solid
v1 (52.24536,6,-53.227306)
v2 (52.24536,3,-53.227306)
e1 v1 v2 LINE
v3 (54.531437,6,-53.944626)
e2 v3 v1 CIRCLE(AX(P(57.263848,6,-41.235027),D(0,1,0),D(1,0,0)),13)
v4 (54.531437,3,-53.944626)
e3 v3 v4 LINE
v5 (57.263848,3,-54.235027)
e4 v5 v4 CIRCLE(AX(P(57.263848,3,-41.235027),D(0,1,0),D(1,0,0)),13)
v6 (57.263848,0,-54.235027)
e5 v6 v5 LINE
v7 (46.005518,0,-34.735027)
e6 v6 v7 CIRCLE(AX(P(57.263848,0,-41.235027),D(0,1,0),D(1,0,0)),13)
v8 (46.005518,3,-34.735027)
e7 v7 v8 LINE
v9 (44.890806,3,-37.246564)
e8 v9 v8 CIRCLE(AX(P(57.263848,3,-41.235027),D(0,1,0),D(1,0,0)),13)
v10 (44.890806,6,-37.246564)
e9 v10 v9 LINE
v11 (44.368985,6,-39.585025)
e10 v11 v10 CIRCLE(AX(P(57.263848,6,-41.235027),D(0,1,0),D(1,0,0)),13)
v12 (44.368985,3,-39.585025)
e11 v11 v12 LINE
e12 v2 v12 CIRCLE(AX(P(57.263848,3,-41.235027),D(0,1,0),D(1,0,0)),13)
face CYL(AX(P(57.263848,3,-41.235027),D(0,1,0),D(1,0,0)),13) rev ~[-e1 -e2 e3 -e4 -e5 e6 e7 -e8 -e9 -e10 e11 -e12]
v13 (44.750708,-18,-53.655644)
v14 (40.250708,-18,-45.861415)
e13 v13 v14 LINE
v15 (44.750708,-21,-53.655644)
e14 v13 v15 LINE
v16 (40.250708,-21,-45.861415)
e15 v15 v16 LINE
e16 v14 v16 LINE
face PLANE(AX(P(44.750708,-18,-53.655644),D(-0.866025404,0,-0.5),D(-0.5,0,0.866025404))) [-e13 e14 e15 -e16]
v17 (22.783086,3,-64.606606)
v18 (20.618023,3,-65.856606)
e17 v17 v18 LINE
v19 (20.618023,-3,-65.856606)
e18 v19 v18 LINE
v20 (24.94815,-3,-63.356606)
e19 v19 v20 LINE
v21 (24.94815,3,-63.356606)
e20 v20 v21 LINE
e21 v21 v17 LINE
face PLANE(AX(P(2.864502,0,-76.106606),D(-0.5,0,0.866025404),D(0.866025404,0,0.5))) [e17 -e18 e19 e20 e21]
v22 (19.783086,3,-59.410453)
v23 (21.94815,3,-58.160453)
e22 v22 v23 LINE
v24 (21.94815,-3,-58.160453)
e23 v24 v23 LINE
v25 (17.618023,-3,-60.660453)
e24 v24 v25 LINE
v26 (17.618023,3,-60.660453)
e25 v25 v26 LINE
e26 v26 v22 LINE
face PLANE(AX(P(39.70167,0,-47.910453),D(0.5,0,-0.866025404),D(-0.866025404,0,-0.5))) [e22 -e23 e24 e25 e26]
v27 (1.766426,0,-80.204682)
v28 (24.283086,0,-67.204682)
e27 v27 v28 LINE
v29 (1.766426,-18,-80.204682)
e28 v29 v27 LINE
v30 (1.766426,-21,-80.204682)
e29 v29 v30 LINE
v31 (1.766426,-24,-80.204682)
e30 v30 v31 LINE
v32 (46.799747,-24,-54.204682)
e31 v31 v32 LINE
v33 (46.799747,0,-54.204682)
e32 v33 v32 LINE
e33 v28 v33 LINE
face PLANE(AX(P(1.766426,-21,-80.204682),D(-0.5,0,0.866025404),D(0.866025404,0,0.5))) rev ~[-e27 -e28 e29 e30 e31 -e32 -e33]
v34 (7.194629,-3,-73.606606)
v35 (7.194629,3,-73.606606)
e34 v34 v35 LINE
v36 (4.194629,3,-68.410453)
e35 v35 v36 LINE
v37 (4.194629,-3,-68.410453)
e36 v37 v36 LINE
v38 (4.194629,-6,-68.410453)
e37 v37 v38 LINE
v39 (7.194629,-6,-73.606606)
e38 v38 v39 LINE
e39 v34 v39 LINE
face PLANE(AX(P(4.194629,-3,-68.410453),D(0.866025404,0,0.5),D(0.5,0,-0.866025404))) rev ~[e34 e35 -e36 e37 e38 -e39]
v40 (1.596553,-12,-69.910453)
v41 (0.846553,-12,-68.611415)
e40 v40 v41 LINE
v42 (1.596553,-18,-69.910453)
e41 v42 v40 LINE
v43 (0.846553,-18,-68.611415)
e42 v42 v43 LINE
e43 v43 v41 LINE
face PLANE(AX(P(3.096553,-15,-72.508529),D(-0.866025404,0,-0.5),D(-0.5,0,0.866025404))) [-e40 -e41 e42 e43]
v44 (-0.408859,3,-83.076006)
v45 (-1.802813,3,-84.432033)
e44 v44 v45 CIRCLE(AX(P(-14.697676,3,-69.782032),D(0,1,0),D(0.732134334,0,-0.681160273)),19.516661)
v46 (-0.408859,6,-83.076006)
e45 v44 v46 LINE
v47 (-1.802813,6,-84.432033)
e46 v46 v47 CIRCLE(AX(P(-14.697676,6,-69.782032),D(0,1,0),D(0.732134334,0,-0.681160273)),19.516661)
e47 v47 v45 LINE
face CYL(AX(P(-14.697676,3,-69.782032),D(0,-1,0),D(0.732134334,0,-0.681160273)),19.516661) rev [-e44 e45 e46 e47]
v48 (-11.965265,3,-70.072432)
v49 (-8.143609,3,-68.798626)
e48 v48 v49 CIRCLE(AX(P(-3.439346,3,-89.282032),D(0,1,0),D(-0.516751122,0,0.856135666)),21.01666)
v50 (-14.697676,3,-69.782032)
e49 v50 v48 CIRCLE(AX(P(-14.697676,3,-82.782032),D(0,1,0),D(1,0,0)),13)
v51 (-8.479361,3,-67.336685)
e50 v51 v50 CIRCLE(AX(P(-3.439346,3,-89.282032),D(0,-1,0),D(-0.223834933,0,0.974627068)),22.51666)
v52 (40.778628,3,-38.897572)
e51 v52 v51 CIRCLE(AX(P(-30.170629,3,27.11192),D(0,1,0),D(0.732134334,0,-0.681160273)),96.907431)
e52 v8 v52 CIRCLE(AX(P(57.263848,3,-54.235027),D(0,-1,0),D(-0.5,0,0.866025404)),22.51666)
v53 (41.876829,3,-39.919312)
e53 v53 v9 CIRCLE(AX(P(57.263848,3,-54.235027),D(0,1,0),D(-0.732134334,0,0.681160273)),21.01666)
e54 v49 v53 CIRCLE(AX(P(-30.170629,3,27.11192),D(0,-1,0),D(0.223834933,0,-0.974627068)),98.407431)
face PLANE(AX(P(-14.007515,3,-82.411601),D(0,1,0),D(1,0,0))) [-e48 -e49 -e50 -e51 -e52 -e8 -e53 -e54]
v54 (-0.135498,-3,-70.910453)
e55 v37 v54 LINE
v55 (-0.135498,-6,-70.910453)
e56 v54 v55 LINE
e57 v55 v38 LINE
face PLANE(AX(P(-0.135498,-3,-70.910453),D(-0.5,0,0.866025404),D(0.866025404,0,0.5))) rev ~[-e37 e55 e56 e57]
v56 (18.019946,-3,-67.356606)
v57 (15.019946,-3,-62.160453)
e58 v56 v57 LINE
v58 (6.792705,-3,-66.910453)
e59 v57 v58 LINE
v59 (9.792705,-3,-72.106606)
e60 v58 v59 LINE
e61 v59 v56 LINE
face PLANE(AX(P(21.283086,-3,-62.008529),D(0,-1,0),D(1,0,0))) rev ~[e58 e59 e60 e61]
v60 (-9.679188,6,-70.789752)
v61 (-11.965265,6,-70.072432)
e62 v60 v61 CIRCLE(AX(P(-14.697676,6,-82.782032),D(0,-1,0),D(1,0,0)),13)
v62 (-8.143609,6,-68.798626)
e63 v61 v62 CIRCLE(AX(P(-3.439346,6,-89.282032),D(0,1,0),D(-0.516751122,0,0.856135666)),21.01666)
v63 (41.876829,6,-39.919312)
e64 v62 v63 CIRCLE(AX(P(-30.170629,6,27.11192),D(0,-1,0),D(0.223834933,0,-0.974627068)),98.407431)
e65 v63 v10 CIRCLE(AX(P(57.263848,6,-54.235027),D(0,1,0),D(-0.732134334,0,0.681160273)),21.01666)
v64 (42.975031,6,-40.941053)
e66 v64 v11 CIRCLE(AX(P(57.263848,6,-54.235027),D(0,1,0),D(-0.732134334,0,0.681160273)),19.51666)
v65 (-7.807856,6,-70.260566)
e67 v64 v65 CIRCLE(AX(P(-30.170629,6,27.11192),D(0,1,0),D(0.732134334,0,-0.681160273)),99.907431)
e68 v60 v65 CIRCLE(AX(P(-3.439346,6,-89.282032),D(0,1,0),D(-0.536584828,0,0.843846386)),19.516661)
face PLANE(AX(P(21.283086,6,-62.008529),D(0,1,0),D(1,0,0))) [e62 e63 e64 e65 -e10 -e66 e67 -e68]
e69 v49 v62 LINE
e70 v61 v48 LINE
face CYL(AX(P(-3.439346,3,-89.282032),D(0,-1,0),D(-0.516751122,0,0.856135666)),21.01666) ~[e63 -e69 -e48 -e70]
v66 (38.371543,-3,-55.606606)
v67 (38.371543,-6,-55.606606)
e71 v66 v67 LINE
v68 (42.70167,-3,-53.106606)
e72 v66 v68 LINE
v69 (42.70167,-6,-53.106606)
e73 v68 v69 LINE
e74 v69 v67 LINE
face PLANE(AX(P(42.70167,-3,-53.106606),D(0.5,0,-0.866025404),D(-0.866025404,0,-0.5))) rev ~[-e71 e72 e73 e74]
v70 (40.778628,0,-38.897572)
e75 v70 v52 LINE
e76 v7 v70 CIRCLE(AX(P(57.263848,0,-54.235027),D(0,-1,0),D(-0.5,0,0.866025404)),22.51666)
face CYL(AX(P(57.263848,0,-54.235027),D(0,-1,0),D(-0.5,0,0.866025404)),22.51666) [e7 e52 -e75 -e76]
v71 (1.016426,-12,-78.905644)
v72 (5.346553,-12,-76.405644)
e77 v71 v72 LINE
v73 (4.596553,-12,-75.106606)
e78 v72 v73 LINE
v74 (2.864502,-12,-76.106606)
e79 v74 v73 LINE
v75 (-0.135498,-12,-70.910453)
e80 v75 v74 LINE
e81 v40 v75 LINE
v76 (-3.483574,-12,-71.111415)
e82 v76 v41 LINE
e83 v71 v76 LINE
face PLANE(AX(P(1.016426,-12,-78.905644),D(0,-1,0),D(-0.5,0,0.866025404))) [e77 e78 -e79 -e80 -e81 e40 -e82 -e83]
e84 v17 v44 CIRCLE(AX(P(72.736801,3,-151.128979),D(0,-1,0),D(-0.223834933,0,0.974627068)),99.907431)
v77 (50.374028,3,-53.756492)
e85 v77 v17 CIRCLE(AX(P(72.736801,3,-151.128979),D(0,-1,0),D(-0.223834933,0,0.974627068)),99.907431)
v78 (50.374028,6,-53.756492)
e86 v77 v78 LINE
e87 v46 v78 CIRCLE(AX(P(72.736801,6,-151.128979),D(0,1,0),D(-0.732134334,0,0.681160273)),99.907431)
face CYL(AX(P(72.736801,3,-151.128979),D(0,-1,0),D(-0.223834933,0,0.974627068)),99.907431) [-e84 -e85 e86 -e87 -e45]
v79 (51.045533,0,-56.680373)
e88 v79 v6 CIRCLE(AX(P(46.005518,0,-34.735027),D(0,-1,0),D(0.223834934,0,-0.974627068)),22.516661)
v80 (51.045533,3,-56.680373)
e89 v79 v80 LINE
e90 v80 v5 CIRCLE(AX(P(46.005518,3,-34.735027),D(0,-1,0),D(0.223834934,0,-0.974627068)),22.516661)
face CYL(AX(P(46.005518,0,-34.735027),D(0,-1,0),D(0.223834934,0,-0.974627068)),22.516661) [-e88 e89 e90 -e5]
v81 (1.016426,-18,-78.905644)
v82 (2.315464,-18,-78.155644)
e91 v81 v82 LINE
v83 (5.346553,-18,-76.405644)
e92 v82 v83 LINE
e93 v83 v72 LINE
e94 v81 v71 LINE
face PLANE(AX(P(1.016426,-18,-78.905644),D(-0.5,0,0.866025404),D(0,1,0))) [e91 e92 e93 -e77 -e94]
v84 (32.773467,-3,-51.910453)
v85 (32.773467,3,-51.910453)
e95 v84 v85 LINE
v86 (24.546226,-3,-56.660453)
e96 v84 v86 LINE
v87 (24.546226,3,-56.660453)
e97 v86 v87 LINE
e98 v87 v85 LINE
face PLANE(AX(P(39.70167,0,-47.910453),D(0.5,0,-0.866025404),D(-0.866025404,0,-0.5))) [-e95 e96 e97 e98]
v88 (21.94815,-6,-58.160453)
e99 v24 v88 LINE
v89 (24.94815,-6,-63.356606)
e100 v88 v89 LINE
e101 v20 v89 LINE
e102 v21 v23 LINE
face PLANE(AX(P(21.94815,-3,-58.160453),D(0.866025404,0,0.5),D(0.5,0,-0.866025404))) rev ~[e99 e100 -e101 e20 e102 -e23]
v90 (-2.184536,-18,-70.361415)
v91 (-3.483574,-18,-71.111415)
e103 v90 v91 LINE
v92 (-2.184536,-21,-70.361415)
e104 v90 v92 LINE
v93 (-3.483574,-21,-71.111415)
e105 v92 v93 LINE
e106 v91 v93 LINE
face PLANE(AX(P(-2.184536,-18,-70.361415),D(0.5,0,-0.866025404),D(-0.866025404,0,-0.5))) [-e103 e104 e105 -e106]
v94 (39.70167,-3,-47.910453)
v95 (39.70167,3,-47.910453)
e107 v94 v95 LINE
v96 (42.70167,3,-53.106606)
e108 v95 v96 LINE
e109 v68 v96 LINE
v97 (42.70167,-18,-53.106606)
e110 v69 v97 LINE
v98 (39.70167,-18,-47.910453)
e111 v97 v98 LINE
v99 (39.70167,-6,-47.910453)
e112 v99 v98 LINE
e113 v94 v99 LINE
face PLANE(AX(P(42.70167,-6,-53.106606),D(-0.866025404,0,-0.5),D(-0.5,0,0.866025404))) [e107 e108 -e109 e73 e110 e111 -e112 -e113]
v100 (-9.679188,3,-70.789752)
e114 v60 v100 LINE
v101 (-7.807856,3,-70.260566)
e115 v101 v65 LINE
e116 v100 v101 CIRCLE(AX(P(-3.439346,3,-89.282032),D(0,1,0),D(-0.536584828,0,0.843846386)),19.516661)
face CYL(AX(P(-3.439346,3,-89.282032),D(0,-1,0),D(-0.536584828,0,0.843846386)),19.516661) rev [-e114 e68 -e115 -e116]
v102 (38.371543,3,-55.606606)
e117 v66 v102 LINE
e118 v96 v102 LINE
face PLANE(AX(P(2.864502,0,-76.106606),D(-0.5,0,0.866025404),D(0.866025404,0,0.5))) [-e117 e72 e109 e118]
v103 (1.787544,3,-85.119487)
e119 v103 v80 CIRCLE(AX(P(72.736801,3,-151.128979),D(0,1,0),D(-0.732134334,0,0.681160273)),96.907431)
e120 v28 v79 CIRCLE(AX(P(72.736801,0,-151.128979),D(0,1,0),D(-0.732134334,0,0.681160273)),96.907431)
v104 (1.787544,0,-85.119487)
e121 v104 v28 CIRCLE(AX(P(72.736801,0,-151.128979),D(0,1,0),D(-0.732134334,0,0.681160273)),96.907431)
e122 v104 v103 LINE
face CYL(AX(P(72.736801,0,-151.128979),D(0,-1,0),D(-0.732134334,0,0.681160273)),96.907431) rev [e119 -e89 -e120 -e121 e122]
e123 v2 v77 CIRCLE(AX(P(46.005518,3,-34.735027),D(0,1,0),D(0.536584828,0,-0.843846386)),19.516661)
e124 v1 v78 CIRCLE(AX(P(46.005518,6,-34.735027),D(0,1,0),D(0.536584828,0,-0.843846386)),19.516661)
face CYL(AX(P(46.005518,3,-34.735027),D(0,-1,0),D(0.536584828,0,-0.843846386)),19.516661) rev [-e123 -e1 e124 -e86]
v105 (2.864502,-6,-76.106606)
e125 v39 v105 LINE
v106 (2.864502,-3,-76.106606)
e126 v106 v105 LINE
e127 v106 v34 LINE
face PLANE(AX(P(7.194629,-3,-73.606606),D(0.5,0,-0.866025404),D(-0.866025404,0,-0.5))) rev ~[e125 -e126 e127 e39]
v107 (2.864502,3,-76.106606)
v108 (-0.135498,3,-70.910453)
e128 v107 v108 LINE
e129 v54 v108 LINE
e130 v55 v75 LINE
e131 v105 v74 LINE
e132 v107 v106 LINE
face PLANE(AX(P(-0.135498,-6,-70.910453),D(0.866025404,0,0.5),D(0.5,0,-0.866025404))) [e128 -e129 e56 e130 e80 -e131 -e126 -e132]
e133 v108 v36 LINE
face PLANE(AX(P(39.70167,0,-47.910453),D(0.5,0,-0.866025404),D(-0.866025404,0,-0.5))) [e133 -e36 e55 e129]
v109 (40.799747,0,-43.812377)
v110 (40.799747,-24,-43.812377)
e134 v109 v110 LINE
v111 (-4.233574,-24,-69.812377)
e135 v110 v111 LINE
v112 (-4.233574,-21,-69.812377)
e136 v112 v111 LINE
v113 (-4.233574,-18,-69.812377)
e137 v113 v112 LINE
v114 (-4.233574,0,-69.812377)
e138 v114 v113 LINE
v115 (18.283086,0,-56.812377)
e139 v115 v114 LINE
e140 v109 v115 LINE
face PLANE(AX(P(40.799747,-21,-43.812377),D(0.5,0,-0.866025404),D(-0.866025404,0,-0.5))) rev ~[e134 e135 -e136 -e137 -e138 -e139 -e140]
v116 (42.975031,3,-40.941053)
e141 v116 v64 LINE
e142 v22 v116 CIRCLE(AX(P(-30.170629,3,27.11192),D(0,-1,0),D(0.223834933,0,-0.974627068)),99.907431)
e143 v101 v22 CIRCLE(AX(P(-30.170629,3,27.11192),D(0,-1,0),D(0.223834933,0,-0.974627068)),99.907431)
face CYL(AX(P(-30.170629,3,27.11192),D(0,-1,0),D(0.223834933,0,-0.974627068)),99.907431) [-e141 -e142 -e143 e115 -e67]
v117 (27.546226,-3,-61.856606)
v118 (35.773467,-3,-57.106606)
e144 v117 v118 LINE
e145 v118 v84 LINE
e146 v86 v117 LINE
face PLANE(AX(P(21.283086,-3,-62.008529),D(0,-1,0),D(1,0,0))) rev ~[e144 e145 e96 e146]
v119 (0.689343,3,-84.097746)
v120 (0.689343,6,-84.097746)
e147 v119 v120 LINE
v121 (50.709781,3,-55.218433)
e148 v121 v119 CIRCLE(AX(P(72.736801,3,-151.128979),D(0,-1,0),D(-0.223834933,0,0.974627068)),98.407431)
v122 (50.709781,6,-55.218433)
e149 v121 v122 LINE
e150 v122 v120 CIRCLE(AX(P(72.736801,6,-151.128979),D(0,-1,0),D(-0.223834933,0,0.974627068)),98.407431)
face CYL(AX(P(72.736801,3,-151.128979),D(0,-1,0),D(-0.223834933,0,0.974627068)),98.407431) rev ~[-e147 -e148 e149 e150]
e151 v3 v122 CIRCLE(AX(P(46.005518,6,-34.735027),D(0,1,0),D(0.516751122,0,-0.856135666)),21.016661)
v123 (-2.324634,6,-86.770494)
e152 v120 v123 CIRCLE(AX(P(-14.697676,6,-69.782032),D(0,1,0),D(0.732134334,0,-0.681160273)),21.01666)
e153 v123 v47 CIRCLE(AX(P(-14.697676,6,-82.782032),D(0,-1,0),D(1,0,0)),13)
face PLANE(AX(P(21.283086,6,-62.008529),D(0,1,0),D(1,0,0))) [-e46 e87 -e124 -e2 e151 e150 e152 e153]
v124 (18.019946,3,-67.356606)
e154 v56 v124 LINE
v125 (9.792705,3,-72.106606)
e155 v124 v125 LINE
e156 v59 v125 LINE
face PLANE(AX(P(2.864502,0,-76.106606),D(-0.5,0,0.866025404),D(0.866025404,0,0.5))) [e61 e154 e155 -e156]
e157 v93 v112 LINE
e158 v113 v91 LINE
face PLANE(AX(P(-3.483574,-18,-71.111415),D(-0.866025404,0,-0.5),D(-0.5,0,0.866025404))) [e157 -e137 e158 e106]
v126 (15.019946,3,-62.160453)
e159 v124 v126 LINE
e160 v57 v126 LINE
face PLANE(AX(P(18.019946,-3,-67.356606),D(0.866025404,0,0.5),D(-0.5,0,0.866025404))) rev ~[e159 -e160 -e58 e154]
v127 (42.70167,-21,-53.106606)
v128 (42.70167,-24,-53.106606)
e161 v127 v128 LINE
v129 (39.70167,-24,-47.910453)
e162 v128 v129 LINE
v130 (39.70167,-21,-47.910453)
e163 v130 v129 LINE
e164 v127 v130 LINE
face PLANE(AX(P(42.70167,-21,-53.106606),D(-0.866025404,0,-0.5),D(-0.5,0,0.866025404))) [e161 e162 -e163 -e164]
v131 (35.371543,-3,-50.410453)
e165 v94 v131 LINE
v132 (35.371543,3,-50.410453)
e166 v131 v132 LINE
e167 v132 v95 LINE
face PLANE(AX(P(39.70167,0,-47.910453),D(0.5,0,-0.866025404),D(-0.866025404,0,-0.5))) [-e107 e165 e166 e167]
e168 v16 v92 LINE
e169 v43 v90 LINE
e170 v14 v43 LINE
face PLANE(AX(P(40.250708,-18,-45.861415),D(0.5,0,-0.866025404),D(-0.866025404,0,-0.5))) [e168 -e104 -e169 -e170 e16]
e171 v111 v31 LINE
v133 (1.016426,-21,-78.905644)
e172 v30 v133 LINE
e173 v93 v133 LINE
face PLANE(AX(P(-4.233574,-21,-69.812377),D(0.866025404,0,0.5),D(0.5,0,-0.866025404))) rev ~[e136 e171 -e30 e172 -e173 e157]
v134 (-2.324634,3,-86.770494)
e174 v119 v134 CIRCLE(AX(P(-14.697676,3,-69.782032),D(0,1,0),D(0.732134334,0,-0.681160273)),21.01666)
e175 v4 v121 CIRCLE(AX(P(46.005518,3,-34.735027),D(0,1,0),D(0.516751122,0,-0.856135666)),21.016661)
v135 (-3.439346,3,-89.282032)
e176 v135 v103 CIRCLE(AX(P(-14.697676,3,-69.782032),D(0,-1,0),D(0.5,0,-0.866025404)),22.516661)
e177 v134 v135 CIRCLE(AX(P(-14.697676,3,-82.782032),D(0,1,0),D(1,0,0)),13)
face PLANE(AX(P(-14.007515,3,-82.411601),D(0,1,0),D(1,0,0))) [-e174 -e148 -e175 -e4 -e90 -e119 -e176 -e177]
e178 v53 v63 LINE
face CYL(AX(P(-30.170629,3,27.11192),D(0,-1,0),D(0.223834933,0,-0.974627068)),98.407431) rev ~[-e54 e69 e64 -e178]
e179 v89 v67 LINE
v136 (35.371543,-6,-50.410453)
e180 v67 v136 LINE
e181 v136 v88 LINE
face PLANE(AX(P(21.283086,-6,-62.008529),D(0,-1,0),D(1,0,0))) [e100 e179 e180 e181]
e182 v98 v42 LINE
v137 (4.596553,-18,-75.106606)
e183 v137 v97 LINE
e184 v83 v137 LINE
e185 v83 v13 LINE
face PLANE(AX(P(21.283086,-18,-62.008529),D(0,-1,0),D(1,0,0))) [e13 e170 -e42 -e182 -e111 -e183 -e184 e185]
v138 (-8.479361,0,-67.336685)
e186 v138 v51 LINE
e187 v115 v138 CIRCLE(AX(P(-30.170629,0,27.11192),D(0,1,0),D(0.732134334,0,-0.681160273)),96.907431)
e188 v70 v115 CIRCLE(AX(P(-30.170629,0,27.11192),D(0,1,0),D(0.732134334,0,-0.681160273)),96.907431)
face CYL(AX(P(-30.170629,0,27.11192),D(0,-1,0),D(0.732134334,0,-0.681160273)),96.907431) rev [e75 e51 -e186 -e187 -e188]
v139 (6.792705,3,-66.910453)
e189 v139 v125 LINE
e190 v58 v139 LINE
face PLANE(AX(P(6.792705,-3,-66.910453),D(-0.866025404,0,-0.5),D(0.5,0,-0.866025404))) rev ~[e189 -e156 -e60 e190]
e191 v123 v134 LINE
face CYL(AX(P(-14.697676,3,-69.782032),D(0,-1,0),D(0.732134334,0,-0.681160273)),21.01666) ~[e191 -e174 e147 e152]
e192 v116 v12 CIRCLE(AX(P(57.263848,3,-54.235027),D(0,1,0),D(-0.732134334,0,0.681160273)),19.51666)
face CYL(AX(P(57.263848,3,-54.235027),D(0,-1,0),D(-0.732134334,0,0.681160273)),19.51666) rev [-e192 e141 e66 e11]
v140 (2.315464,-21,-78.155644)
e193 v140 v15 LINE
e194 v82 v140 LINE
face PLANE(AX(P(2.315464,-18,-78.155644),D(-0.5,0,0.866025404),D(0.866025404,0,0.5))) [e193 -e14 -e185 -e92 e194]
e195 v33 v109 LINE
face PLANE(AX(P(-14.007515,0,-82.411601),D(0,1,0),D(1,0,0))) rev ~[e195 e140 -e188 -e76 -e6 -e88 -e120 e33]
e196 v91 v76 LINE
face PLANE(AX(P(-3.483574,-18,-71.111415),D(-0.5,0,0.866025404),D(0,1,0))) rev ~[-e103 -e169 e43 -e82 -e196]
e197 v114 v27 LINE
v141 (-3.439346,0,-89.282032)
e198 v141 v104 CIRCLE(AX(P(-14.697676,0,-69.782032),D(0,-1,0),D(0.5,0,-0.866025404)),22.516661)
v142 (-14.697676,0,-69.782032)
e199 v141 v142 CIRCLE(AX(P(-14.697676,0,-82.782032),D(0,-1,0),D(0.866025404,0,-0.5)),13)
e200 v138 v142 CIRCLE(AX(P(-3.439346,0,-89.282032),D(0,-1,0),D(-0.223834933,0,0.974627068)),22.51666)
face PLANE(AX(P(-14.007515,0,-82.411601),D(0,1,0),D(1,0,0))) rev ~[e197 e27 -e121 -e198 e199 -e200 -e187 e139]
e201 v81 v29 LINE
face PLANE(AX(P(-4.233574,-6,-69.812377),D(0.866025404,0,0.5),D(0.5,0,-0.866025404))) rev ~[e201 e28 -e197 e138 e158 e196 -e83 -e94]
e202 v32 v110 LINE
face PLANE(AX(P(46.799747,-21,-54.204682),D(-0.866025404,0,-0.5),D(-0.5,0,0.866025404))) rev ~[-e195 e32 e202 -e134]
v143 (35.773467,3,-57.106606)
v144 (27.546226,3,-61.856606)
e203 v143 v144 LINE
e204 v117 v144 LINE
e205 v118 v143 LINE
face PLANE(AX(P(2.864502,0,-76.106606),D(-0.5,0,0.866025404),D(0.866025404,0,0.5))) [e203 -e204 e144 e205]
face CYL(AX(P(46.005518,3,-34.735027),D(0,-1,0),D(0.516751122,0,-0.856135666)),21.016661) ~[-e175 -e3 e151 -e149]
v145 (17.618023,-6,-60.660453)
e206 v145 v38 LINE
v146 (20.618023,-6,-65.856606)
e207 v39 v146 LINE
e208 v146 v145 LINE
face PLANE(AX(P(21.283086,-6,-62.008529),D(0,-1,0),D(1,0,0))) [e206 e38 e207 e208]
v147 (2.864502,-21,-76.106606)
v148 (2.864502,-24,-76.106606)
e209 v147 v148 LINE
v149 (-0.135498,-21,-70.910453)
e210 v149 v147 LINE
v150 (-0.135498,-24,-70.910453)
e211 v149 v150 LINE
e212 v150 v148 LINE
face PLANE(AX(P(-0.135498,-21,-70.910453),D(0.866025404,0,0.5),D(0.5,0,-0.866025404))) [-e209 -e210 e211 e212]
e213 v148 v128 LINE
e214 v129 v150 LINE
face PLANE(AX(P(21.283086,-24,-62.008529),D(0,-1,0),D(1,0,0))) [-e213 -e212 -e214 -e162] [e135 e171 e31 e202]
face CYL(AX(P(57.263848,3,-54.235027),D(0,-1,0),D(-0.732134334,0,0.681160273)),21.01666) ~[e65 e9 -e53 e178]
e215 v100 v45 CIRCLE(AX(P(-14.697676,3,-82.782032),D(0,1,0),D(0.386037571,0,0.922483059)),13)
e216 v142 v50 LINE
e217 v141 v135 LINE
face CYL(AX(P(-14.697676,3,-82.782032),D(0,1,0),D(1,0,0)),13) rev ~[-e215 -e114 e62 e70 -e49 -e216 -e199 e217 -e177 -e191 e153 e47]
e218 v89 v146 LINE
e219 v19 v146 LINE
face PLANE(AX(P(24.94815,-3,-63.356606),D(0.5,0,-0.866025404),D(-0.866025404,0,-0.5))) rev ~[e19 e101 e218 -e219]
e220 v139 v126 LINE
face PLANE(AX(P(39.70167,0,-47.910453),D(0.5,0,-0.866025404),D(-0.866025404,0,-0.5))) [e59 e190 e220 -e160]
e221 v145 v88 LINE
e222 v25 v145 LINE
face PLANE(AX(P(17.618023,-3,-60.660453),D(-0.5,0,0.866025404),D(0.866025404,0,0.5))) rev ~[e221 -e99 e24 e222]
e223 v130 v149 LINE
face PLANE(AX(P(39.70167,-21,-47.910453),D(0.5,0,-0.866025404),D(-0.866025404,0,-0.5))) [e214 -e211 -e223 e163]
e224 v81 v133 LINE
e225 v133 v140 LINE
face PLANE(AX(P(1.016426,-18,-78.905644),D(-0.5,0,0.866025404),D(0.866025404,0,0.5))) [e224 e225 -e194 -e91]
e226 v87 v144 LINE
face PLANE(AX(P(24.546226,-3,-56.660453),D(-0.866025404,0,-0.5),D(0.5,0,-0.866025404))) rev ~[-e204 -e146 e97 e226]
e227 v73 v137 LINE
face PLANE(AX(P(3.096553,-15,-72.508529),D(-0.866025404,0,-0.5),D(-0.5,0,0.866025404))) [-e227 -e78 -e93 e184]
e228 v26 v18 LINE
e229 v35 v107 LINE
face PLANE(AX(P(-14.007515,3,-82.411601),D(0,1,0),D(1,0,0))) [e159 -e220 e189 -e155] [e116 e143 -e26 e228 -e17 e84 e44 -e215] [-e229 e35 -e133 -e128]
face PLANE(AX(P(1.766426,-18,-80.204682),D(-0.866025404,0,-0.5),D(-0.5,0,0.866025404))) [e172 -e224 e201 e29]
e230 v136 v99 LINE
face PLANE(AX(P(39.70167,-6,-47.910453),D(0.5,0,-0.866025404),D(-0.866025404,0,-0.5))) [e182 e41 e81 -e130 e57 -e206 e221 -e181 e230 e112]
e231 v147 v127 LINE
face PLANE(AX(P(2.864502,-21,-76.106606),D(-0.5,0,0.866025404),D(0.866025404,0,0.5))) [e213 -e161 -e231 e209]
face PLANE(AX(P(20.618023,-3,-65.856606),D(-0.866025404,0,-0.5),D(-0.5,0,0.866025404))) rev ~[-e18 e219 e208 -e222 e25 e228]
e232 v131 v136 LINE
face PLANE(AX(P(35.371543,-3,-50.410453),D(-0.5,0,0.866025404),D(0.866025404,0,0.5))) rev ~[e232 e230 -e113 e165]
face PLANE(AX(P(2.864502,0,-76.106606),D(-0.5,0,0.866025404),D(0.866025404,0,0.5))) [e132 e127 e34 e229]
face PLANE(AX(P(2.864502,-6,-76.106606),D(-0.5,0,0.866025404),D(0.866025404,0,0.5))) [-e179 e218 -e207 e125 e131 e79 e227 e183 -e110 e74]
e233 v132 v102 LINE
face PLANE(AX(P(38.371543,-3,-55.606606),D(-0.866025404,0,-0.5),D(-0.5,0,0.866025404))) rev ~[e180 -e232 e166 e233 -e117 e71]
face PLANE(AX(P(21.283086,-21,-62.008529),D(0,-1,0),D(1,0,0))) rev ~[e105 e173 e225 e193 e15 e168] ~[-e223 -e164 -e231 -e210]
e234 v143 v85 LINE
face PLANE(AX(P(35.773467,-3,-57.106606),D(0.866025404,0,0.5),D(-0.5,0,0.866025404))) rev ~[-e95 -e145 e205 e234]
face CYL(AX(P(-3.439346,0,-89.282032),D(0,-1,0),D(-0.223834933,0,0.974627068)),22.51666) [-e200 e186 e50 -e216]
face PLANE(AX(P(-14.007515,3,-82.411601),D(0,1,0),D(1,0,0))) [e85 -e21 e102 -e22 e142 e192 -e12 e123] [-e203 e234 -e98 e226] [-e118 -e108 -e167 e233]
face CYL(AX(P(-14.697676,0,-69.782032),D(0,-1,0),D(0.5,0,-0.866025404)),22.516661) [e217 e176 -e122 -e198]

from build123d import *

# Parameters (mm, degrees)
BOSS_EXTRUDE1_DEPTH  = 3
BOSS_EXTRUDE4_DEPTH  = 3
SKETCH11_R           = 13
CUT_EXTRUDE2_DEPTH   = 6.5
BOSS_EXTRUDE5_DEPTH  = 3
CUT_EXTRUDE3_DEPTH   = 24
BOSS_EXTRUDE6_DEPTH  = 3
BOSS_EXTRUDE7_DEPTH  = 6
CUT_EXTRUDE4_DEPTH   = 3
BOSS_EXTRUDE8_DEPTH  = 12
BOSS_EXTRUDE10_DEPTH = 3
BOSS_EXTRUDE11_DEPTH = 3
SKETCH21_W           = 9
SKETCH21_H           = 6
CUT_EXTRUDE5_DEPTH   = 5


with BuildPart() as part:
    # Sketch3 → Boss-Extrude1 (new body)
    with BuildSketch(Plane(origin=(0, 0, 0), x_dir=(1, 0, 0), z_dir=(0, 1, 0))):
        with BuildLine():
            ThreePointArc((-3.439345798, 89.282032024), (-25.956006297, 89.282032024), (-14.697676047, 69.782032024))
            ThreePointArc((-14.697676047, 69.782032024), (-5.505287892, 73.589643868), (-1.697676047, 82.782032024))
            ThreePointArc((-1.697676047, 82.782032024), (-2.140640306, 86.14667961), (-3.439345798, 89.282032024))
        make_face()
        with BuildLine():
            ThreePointArc((-3.439345798, 89.282032024), (-0.67063629, 87.395724301), (1.787544185, 85.119486633))
            ThreePointArc((1.787544185, 85.119486633), (24.283086066, 67.204681754), (51.045533135, 56.680373453))
            ThreePointArc((51.045533135, 56.680373453), (54.245903018, 55.689645548), (57.26384818, 54.23502664))
            ThreePointArc((57.26384818, 54.23502664), (46.005517931, 47.73502664), (46.005517931, 34.73502664))
            ThreePointArc((46.005517931, 34.73502664), (43.236808422, 36.621334362), (40.778627947, 38.89757203))
            ThreePointArc((40.778627947, 38.89757203), (18.283086066, 56.812376909), (-8.479361003, 67.336685211))
            ThreePointArc((-8.479361003, 67.336685211), (-11.679730886, 68.327413115), (-14.697676047, 69.782032024))
            ThreePointArc((-14.697676047, 69.782032024), (-3.439345798, 76.282032024), (-3.439345798, 89.282032024))
        make_face()
        with BuildLine():
            ThreePointArc((57.26384818, 54.23502664), (46.005517931, 47.73502664), (46.005517931, 34.73502664))
            ThreePointArc((46.005517931, 34.73502664), (60.628495766, 28.677990898), (70.26384818, 41.23502664))
            ThreePointArc((70.26384818, 41.23502664), (66.456236335, 50.427414795), (57.26384818, 54.23502664))
        make_face()
    extrude(amount=BOSS_EXTRUDE1_DEPTH)

    # Sketch10 → Boss-Extrude4 (add)
    with BuildSketch(Plane(origin=(0, 3, 0), x_dir=(1, 0, 0), z_dir=(0, 1, 0))):
        with BuildLine():
            ThreePointArc((-4.545374861, 88.183955812), (-24.656968191, 88.532032024), (-14.299728684, 71.288919395))
            ThreePointArc((-14.299728684, 71.288919395), (-11.320648952, 69.799088737), (-8.143608603, 68.798625813))
            ThreePointArc((-8.143608603, 68.798625813), (19.033086066, 58.111415015), (41.876829448, 39.91931244))
            ThreePointArc((41.876829448, 39.91931244), (44.33177593, 37.66814625), (47.111546993, 35.833102851))
            ThreePointArc((47.111546993, 35.833102851), (67.223140323, 35.48502664), (56.865900817, 52.728139268))
            ThreePointArc((56.865900817, 52.728139268), (53.886821084, 54.217969926), (50.709780735, 55.21843285))
            ThreePointArc((50.709780735, 55.21843285), (23.533086066, 65.905643649), (0.689342684, 84.097746224))
            ThreePointArc((0.689342684, 84.097746224), (-1.765603798, 86.348912413), (-4.545374861, 88.183955812))
        make_face()
        with BuildLine():
            ThreePointArc((-5.671220706, 87.085879601), (-23.357930085, 87.782032024), (-13.911689713, 72.812968603))
            ThreePointArc((-13.911689713, 72.812968603), (-10.968716852, 71.276238274), (-7.807856203, 70.260566416))
            ThreePointArc((-7.807856203, 70.260566416), (19.783086066, 59.41045312), (42.975030949, 40.941052849))
            ThreePointArc((42.975030949, 40.941052849), (45.435058904, 38.711503158), (48.237392838, 36.931179062))
            ThreePointArc((48.237392838, 36.931179062), (65.924102218, 36.23502664), (56.477861845, 51.20409006))
            ThreePointArc((56.477861845, 51.20409006), (53.534888984, 52.740820389), (50.374028335, 53.756492247))
            ThreePointArc((50.374028335, 53.756492247), (22.783086066, 64.606605543), (-0.408858816, 83.076005814))
            ThreePointArc((-0.408858816, 83.076005814), (-2.868886772, 85.305555505), (-5.671220706, 87.085879601))
        make_face(mode=Mode.SUBTRACT)
    extrude(amount=BOSS_EXTRUDE4_DEPTH)

    # Sketch11 → Cut-Extrude2 (cut, symmetric)
    with BuildSketch(Plane(origin=(0, 3, 0), x_dir=(1, 0, 0), z_dir=(0, 1, 0))):
        with Locations((-14.697676047, 82.782032024)):
            Circle(SKETCH11_R)
        with Locations((57.26384818, 41.23502664)):
            Circle(SKETCH11_R)
    extrude(amount=CUT_EXTRUDE2_DEPTH, both=True, mode=Mode.SUBTRACT)

    # Sketch12 → Boss-Extrude5 (add)
    with BuildSketch(Plane.XZ):
        Polygon((-4.233574432, -69.812376909), (1.766425568, -80.204681754), (46.799746565, -54.204681754), (40.799746565, -43.812376909), align=None)
        Polygon((2.864501779, -76.106605543), (42.701670353, -53.106605543), (39.701670353, -47.91045312), (-0.135498221, -70.91045312), align=None, mode=Mode.SUBTRACT)
    extrude(amount=BOSS_EXTRUDE5_DEPTH)

    # Sketch13 → Cut-Extrude3 (cut)
    with BuildSketch(Plane.XZ):
        Polygon((39.701670353, -47.91045312), (-0.135498221, -70.91045312), (2.864501779, -76.106605543), (42.701670353, -53.106605543), align=None)
    extrude(amount=-CUT_EXTRUDE3_DEPTH, mode=Mode.SUBTRACT)

    # Sketch14 → Boss-Extrude6 (add)
    with BuildSketch(Plane.XZ.offset(3)):
        Polygon((40.799746565, -43.812376909), (-4.233574432, -69.812376909), (1.766425568, -80.204681754), (46.799746565, -54.204681754), align=None)
    extrude(amount=BOSS_EXTRUDE6_DEPTH)

    # Sketch15 → Boss-Extrude7 (add)
    with BuildSketch(Plane(origin=(0, -3, 0), x_dir=(1, 0, 0), z_dir=(0, 1, 0))):
        Polygon((4.194628798, 68.41045312), (6.792705009, 66.91045312), (9.792705009, 72.106605543), (7.194628798, 73.606605543), align=None)
        Polygon((18.019946345, 67.356605543), (15.019946345, 62.16045312), (17.618022557, 60.66045312), (20.618022557, 65.856605543), align=None)
        Polygon((24.948149576, 63.356605543), (21.948149576, 58.16045312), (24.546225787, 56.66045312), (27.546225787, 61.856605543), align=None)
        Polygon((35.773467123, 57.106605543), (32.773467123, 51.91045312), (35.371543334, 50.41045312), (38.371543334, 55.606605543), align=None)
    extrude(amount=BOSS_EXTRUDE7_DEPTH)

    # Sketch16 → Cut-Extrude4 (cut)
    with BuildSketch(Plane(origin=(0, -3, 0), x_dir=(1, 0, 0), z_dir=(0, 1, 0))):
        Polygon((42.701670353, 53.106605543), (38.371543334, 55.606605543), (35.371543334, 50.41045312), (39.701670353, 47.91045312), align=None)
        Polygon((24.948149576, 63.356605543), (20.618022557, 65.856605543), (17.618022557, 60.66045312), (21.948149576, 58.16045312), align=None)
        Polygon((-0.135498221, 70.91045312), (4.194628798, 68.41045312), (7.194628798, 73.606605543), (2.864501779, 76.106605543), align=None)
    extrude(amount=-CUT_EXTRUDE4_DEPTH, mode=Mode.SUBTRACT)

    # Sketch17 → Boss-Extrude8 (add)
    with BuildSketch(Plane.XZ.offset(6)):
        Polygon((46.799746565, -54.204681754), (40.799746565, -43.812376909), (-4.233574432, -69.812376909), (1.766425568, -80.204681754), align=None)
        Polygon((42.701670353, -53.106605543), (39.701670353, -47.91045312), (-0.135498221, -70.91045312), (2.864501779, -76.106605543), align=None, mode=Mode.SUBTRACT)
    extrude(amount=BOSS_EXTRUDE8_DEPTH)

    # Sketch19 → Boss-Extrude10 (add)
    with BuildSketch(Plane.XZ.offset(18)):
        Polygon((2.315463673, -78.155643649), (44.750708459, -53.655643649), (40.250708459, -45.861415015), (-2.184536327, -70.361415015), (-3.483574432, -71.111415015), (-4.233574432, -69.812376909), (40.799746565, -43.812376909), (46.799746565, -54.204681754), (1.766425568, -80.204681754), (1.016425568, -78.905643649), align=None)
    extrude(amount=BOSS_EXTRUDE10_DEPTH)

    # Sketch20 → Boss-Extrude11 (add)
    with BuildSketch(Plane.XZ.offset(21)):
        Polygon((1.766425568, -80.204681754), (46.799746565, -54.204681754), (40.799746565, -43.812376909), (-4.233574432, -69.812376909), align=None)
        Polygon((42.701670353, -53.106605543), (39.701670353, -47.91045312), (-0.135498221, -70.91045312), (2.864501779, -76.106605543), align=None, mode=Mode.SUBTRACT)
    extrude(amount=BOSS_EXTRUDE11_DEPTH)

    # Sketch21 → Cut-Extrude5 (cut)
    with BuildSketch(Plane(origin=(-33.404826775, 0, -19.286285731), x_dir=(-0.5000000000000008, 0, 0.8660254037844383), z_dir=(-0.8660254037844382, 0, -0.5000000000000007))):
        with Locations((-64.342504686, -15)):
            Rectangle(SKETCH21_W, SKETCH21_H)
    extrude(amount=-CUT_EXTRUDE5_DEPTH, mode=Mode.SUBTRACT)


solid = part.part
